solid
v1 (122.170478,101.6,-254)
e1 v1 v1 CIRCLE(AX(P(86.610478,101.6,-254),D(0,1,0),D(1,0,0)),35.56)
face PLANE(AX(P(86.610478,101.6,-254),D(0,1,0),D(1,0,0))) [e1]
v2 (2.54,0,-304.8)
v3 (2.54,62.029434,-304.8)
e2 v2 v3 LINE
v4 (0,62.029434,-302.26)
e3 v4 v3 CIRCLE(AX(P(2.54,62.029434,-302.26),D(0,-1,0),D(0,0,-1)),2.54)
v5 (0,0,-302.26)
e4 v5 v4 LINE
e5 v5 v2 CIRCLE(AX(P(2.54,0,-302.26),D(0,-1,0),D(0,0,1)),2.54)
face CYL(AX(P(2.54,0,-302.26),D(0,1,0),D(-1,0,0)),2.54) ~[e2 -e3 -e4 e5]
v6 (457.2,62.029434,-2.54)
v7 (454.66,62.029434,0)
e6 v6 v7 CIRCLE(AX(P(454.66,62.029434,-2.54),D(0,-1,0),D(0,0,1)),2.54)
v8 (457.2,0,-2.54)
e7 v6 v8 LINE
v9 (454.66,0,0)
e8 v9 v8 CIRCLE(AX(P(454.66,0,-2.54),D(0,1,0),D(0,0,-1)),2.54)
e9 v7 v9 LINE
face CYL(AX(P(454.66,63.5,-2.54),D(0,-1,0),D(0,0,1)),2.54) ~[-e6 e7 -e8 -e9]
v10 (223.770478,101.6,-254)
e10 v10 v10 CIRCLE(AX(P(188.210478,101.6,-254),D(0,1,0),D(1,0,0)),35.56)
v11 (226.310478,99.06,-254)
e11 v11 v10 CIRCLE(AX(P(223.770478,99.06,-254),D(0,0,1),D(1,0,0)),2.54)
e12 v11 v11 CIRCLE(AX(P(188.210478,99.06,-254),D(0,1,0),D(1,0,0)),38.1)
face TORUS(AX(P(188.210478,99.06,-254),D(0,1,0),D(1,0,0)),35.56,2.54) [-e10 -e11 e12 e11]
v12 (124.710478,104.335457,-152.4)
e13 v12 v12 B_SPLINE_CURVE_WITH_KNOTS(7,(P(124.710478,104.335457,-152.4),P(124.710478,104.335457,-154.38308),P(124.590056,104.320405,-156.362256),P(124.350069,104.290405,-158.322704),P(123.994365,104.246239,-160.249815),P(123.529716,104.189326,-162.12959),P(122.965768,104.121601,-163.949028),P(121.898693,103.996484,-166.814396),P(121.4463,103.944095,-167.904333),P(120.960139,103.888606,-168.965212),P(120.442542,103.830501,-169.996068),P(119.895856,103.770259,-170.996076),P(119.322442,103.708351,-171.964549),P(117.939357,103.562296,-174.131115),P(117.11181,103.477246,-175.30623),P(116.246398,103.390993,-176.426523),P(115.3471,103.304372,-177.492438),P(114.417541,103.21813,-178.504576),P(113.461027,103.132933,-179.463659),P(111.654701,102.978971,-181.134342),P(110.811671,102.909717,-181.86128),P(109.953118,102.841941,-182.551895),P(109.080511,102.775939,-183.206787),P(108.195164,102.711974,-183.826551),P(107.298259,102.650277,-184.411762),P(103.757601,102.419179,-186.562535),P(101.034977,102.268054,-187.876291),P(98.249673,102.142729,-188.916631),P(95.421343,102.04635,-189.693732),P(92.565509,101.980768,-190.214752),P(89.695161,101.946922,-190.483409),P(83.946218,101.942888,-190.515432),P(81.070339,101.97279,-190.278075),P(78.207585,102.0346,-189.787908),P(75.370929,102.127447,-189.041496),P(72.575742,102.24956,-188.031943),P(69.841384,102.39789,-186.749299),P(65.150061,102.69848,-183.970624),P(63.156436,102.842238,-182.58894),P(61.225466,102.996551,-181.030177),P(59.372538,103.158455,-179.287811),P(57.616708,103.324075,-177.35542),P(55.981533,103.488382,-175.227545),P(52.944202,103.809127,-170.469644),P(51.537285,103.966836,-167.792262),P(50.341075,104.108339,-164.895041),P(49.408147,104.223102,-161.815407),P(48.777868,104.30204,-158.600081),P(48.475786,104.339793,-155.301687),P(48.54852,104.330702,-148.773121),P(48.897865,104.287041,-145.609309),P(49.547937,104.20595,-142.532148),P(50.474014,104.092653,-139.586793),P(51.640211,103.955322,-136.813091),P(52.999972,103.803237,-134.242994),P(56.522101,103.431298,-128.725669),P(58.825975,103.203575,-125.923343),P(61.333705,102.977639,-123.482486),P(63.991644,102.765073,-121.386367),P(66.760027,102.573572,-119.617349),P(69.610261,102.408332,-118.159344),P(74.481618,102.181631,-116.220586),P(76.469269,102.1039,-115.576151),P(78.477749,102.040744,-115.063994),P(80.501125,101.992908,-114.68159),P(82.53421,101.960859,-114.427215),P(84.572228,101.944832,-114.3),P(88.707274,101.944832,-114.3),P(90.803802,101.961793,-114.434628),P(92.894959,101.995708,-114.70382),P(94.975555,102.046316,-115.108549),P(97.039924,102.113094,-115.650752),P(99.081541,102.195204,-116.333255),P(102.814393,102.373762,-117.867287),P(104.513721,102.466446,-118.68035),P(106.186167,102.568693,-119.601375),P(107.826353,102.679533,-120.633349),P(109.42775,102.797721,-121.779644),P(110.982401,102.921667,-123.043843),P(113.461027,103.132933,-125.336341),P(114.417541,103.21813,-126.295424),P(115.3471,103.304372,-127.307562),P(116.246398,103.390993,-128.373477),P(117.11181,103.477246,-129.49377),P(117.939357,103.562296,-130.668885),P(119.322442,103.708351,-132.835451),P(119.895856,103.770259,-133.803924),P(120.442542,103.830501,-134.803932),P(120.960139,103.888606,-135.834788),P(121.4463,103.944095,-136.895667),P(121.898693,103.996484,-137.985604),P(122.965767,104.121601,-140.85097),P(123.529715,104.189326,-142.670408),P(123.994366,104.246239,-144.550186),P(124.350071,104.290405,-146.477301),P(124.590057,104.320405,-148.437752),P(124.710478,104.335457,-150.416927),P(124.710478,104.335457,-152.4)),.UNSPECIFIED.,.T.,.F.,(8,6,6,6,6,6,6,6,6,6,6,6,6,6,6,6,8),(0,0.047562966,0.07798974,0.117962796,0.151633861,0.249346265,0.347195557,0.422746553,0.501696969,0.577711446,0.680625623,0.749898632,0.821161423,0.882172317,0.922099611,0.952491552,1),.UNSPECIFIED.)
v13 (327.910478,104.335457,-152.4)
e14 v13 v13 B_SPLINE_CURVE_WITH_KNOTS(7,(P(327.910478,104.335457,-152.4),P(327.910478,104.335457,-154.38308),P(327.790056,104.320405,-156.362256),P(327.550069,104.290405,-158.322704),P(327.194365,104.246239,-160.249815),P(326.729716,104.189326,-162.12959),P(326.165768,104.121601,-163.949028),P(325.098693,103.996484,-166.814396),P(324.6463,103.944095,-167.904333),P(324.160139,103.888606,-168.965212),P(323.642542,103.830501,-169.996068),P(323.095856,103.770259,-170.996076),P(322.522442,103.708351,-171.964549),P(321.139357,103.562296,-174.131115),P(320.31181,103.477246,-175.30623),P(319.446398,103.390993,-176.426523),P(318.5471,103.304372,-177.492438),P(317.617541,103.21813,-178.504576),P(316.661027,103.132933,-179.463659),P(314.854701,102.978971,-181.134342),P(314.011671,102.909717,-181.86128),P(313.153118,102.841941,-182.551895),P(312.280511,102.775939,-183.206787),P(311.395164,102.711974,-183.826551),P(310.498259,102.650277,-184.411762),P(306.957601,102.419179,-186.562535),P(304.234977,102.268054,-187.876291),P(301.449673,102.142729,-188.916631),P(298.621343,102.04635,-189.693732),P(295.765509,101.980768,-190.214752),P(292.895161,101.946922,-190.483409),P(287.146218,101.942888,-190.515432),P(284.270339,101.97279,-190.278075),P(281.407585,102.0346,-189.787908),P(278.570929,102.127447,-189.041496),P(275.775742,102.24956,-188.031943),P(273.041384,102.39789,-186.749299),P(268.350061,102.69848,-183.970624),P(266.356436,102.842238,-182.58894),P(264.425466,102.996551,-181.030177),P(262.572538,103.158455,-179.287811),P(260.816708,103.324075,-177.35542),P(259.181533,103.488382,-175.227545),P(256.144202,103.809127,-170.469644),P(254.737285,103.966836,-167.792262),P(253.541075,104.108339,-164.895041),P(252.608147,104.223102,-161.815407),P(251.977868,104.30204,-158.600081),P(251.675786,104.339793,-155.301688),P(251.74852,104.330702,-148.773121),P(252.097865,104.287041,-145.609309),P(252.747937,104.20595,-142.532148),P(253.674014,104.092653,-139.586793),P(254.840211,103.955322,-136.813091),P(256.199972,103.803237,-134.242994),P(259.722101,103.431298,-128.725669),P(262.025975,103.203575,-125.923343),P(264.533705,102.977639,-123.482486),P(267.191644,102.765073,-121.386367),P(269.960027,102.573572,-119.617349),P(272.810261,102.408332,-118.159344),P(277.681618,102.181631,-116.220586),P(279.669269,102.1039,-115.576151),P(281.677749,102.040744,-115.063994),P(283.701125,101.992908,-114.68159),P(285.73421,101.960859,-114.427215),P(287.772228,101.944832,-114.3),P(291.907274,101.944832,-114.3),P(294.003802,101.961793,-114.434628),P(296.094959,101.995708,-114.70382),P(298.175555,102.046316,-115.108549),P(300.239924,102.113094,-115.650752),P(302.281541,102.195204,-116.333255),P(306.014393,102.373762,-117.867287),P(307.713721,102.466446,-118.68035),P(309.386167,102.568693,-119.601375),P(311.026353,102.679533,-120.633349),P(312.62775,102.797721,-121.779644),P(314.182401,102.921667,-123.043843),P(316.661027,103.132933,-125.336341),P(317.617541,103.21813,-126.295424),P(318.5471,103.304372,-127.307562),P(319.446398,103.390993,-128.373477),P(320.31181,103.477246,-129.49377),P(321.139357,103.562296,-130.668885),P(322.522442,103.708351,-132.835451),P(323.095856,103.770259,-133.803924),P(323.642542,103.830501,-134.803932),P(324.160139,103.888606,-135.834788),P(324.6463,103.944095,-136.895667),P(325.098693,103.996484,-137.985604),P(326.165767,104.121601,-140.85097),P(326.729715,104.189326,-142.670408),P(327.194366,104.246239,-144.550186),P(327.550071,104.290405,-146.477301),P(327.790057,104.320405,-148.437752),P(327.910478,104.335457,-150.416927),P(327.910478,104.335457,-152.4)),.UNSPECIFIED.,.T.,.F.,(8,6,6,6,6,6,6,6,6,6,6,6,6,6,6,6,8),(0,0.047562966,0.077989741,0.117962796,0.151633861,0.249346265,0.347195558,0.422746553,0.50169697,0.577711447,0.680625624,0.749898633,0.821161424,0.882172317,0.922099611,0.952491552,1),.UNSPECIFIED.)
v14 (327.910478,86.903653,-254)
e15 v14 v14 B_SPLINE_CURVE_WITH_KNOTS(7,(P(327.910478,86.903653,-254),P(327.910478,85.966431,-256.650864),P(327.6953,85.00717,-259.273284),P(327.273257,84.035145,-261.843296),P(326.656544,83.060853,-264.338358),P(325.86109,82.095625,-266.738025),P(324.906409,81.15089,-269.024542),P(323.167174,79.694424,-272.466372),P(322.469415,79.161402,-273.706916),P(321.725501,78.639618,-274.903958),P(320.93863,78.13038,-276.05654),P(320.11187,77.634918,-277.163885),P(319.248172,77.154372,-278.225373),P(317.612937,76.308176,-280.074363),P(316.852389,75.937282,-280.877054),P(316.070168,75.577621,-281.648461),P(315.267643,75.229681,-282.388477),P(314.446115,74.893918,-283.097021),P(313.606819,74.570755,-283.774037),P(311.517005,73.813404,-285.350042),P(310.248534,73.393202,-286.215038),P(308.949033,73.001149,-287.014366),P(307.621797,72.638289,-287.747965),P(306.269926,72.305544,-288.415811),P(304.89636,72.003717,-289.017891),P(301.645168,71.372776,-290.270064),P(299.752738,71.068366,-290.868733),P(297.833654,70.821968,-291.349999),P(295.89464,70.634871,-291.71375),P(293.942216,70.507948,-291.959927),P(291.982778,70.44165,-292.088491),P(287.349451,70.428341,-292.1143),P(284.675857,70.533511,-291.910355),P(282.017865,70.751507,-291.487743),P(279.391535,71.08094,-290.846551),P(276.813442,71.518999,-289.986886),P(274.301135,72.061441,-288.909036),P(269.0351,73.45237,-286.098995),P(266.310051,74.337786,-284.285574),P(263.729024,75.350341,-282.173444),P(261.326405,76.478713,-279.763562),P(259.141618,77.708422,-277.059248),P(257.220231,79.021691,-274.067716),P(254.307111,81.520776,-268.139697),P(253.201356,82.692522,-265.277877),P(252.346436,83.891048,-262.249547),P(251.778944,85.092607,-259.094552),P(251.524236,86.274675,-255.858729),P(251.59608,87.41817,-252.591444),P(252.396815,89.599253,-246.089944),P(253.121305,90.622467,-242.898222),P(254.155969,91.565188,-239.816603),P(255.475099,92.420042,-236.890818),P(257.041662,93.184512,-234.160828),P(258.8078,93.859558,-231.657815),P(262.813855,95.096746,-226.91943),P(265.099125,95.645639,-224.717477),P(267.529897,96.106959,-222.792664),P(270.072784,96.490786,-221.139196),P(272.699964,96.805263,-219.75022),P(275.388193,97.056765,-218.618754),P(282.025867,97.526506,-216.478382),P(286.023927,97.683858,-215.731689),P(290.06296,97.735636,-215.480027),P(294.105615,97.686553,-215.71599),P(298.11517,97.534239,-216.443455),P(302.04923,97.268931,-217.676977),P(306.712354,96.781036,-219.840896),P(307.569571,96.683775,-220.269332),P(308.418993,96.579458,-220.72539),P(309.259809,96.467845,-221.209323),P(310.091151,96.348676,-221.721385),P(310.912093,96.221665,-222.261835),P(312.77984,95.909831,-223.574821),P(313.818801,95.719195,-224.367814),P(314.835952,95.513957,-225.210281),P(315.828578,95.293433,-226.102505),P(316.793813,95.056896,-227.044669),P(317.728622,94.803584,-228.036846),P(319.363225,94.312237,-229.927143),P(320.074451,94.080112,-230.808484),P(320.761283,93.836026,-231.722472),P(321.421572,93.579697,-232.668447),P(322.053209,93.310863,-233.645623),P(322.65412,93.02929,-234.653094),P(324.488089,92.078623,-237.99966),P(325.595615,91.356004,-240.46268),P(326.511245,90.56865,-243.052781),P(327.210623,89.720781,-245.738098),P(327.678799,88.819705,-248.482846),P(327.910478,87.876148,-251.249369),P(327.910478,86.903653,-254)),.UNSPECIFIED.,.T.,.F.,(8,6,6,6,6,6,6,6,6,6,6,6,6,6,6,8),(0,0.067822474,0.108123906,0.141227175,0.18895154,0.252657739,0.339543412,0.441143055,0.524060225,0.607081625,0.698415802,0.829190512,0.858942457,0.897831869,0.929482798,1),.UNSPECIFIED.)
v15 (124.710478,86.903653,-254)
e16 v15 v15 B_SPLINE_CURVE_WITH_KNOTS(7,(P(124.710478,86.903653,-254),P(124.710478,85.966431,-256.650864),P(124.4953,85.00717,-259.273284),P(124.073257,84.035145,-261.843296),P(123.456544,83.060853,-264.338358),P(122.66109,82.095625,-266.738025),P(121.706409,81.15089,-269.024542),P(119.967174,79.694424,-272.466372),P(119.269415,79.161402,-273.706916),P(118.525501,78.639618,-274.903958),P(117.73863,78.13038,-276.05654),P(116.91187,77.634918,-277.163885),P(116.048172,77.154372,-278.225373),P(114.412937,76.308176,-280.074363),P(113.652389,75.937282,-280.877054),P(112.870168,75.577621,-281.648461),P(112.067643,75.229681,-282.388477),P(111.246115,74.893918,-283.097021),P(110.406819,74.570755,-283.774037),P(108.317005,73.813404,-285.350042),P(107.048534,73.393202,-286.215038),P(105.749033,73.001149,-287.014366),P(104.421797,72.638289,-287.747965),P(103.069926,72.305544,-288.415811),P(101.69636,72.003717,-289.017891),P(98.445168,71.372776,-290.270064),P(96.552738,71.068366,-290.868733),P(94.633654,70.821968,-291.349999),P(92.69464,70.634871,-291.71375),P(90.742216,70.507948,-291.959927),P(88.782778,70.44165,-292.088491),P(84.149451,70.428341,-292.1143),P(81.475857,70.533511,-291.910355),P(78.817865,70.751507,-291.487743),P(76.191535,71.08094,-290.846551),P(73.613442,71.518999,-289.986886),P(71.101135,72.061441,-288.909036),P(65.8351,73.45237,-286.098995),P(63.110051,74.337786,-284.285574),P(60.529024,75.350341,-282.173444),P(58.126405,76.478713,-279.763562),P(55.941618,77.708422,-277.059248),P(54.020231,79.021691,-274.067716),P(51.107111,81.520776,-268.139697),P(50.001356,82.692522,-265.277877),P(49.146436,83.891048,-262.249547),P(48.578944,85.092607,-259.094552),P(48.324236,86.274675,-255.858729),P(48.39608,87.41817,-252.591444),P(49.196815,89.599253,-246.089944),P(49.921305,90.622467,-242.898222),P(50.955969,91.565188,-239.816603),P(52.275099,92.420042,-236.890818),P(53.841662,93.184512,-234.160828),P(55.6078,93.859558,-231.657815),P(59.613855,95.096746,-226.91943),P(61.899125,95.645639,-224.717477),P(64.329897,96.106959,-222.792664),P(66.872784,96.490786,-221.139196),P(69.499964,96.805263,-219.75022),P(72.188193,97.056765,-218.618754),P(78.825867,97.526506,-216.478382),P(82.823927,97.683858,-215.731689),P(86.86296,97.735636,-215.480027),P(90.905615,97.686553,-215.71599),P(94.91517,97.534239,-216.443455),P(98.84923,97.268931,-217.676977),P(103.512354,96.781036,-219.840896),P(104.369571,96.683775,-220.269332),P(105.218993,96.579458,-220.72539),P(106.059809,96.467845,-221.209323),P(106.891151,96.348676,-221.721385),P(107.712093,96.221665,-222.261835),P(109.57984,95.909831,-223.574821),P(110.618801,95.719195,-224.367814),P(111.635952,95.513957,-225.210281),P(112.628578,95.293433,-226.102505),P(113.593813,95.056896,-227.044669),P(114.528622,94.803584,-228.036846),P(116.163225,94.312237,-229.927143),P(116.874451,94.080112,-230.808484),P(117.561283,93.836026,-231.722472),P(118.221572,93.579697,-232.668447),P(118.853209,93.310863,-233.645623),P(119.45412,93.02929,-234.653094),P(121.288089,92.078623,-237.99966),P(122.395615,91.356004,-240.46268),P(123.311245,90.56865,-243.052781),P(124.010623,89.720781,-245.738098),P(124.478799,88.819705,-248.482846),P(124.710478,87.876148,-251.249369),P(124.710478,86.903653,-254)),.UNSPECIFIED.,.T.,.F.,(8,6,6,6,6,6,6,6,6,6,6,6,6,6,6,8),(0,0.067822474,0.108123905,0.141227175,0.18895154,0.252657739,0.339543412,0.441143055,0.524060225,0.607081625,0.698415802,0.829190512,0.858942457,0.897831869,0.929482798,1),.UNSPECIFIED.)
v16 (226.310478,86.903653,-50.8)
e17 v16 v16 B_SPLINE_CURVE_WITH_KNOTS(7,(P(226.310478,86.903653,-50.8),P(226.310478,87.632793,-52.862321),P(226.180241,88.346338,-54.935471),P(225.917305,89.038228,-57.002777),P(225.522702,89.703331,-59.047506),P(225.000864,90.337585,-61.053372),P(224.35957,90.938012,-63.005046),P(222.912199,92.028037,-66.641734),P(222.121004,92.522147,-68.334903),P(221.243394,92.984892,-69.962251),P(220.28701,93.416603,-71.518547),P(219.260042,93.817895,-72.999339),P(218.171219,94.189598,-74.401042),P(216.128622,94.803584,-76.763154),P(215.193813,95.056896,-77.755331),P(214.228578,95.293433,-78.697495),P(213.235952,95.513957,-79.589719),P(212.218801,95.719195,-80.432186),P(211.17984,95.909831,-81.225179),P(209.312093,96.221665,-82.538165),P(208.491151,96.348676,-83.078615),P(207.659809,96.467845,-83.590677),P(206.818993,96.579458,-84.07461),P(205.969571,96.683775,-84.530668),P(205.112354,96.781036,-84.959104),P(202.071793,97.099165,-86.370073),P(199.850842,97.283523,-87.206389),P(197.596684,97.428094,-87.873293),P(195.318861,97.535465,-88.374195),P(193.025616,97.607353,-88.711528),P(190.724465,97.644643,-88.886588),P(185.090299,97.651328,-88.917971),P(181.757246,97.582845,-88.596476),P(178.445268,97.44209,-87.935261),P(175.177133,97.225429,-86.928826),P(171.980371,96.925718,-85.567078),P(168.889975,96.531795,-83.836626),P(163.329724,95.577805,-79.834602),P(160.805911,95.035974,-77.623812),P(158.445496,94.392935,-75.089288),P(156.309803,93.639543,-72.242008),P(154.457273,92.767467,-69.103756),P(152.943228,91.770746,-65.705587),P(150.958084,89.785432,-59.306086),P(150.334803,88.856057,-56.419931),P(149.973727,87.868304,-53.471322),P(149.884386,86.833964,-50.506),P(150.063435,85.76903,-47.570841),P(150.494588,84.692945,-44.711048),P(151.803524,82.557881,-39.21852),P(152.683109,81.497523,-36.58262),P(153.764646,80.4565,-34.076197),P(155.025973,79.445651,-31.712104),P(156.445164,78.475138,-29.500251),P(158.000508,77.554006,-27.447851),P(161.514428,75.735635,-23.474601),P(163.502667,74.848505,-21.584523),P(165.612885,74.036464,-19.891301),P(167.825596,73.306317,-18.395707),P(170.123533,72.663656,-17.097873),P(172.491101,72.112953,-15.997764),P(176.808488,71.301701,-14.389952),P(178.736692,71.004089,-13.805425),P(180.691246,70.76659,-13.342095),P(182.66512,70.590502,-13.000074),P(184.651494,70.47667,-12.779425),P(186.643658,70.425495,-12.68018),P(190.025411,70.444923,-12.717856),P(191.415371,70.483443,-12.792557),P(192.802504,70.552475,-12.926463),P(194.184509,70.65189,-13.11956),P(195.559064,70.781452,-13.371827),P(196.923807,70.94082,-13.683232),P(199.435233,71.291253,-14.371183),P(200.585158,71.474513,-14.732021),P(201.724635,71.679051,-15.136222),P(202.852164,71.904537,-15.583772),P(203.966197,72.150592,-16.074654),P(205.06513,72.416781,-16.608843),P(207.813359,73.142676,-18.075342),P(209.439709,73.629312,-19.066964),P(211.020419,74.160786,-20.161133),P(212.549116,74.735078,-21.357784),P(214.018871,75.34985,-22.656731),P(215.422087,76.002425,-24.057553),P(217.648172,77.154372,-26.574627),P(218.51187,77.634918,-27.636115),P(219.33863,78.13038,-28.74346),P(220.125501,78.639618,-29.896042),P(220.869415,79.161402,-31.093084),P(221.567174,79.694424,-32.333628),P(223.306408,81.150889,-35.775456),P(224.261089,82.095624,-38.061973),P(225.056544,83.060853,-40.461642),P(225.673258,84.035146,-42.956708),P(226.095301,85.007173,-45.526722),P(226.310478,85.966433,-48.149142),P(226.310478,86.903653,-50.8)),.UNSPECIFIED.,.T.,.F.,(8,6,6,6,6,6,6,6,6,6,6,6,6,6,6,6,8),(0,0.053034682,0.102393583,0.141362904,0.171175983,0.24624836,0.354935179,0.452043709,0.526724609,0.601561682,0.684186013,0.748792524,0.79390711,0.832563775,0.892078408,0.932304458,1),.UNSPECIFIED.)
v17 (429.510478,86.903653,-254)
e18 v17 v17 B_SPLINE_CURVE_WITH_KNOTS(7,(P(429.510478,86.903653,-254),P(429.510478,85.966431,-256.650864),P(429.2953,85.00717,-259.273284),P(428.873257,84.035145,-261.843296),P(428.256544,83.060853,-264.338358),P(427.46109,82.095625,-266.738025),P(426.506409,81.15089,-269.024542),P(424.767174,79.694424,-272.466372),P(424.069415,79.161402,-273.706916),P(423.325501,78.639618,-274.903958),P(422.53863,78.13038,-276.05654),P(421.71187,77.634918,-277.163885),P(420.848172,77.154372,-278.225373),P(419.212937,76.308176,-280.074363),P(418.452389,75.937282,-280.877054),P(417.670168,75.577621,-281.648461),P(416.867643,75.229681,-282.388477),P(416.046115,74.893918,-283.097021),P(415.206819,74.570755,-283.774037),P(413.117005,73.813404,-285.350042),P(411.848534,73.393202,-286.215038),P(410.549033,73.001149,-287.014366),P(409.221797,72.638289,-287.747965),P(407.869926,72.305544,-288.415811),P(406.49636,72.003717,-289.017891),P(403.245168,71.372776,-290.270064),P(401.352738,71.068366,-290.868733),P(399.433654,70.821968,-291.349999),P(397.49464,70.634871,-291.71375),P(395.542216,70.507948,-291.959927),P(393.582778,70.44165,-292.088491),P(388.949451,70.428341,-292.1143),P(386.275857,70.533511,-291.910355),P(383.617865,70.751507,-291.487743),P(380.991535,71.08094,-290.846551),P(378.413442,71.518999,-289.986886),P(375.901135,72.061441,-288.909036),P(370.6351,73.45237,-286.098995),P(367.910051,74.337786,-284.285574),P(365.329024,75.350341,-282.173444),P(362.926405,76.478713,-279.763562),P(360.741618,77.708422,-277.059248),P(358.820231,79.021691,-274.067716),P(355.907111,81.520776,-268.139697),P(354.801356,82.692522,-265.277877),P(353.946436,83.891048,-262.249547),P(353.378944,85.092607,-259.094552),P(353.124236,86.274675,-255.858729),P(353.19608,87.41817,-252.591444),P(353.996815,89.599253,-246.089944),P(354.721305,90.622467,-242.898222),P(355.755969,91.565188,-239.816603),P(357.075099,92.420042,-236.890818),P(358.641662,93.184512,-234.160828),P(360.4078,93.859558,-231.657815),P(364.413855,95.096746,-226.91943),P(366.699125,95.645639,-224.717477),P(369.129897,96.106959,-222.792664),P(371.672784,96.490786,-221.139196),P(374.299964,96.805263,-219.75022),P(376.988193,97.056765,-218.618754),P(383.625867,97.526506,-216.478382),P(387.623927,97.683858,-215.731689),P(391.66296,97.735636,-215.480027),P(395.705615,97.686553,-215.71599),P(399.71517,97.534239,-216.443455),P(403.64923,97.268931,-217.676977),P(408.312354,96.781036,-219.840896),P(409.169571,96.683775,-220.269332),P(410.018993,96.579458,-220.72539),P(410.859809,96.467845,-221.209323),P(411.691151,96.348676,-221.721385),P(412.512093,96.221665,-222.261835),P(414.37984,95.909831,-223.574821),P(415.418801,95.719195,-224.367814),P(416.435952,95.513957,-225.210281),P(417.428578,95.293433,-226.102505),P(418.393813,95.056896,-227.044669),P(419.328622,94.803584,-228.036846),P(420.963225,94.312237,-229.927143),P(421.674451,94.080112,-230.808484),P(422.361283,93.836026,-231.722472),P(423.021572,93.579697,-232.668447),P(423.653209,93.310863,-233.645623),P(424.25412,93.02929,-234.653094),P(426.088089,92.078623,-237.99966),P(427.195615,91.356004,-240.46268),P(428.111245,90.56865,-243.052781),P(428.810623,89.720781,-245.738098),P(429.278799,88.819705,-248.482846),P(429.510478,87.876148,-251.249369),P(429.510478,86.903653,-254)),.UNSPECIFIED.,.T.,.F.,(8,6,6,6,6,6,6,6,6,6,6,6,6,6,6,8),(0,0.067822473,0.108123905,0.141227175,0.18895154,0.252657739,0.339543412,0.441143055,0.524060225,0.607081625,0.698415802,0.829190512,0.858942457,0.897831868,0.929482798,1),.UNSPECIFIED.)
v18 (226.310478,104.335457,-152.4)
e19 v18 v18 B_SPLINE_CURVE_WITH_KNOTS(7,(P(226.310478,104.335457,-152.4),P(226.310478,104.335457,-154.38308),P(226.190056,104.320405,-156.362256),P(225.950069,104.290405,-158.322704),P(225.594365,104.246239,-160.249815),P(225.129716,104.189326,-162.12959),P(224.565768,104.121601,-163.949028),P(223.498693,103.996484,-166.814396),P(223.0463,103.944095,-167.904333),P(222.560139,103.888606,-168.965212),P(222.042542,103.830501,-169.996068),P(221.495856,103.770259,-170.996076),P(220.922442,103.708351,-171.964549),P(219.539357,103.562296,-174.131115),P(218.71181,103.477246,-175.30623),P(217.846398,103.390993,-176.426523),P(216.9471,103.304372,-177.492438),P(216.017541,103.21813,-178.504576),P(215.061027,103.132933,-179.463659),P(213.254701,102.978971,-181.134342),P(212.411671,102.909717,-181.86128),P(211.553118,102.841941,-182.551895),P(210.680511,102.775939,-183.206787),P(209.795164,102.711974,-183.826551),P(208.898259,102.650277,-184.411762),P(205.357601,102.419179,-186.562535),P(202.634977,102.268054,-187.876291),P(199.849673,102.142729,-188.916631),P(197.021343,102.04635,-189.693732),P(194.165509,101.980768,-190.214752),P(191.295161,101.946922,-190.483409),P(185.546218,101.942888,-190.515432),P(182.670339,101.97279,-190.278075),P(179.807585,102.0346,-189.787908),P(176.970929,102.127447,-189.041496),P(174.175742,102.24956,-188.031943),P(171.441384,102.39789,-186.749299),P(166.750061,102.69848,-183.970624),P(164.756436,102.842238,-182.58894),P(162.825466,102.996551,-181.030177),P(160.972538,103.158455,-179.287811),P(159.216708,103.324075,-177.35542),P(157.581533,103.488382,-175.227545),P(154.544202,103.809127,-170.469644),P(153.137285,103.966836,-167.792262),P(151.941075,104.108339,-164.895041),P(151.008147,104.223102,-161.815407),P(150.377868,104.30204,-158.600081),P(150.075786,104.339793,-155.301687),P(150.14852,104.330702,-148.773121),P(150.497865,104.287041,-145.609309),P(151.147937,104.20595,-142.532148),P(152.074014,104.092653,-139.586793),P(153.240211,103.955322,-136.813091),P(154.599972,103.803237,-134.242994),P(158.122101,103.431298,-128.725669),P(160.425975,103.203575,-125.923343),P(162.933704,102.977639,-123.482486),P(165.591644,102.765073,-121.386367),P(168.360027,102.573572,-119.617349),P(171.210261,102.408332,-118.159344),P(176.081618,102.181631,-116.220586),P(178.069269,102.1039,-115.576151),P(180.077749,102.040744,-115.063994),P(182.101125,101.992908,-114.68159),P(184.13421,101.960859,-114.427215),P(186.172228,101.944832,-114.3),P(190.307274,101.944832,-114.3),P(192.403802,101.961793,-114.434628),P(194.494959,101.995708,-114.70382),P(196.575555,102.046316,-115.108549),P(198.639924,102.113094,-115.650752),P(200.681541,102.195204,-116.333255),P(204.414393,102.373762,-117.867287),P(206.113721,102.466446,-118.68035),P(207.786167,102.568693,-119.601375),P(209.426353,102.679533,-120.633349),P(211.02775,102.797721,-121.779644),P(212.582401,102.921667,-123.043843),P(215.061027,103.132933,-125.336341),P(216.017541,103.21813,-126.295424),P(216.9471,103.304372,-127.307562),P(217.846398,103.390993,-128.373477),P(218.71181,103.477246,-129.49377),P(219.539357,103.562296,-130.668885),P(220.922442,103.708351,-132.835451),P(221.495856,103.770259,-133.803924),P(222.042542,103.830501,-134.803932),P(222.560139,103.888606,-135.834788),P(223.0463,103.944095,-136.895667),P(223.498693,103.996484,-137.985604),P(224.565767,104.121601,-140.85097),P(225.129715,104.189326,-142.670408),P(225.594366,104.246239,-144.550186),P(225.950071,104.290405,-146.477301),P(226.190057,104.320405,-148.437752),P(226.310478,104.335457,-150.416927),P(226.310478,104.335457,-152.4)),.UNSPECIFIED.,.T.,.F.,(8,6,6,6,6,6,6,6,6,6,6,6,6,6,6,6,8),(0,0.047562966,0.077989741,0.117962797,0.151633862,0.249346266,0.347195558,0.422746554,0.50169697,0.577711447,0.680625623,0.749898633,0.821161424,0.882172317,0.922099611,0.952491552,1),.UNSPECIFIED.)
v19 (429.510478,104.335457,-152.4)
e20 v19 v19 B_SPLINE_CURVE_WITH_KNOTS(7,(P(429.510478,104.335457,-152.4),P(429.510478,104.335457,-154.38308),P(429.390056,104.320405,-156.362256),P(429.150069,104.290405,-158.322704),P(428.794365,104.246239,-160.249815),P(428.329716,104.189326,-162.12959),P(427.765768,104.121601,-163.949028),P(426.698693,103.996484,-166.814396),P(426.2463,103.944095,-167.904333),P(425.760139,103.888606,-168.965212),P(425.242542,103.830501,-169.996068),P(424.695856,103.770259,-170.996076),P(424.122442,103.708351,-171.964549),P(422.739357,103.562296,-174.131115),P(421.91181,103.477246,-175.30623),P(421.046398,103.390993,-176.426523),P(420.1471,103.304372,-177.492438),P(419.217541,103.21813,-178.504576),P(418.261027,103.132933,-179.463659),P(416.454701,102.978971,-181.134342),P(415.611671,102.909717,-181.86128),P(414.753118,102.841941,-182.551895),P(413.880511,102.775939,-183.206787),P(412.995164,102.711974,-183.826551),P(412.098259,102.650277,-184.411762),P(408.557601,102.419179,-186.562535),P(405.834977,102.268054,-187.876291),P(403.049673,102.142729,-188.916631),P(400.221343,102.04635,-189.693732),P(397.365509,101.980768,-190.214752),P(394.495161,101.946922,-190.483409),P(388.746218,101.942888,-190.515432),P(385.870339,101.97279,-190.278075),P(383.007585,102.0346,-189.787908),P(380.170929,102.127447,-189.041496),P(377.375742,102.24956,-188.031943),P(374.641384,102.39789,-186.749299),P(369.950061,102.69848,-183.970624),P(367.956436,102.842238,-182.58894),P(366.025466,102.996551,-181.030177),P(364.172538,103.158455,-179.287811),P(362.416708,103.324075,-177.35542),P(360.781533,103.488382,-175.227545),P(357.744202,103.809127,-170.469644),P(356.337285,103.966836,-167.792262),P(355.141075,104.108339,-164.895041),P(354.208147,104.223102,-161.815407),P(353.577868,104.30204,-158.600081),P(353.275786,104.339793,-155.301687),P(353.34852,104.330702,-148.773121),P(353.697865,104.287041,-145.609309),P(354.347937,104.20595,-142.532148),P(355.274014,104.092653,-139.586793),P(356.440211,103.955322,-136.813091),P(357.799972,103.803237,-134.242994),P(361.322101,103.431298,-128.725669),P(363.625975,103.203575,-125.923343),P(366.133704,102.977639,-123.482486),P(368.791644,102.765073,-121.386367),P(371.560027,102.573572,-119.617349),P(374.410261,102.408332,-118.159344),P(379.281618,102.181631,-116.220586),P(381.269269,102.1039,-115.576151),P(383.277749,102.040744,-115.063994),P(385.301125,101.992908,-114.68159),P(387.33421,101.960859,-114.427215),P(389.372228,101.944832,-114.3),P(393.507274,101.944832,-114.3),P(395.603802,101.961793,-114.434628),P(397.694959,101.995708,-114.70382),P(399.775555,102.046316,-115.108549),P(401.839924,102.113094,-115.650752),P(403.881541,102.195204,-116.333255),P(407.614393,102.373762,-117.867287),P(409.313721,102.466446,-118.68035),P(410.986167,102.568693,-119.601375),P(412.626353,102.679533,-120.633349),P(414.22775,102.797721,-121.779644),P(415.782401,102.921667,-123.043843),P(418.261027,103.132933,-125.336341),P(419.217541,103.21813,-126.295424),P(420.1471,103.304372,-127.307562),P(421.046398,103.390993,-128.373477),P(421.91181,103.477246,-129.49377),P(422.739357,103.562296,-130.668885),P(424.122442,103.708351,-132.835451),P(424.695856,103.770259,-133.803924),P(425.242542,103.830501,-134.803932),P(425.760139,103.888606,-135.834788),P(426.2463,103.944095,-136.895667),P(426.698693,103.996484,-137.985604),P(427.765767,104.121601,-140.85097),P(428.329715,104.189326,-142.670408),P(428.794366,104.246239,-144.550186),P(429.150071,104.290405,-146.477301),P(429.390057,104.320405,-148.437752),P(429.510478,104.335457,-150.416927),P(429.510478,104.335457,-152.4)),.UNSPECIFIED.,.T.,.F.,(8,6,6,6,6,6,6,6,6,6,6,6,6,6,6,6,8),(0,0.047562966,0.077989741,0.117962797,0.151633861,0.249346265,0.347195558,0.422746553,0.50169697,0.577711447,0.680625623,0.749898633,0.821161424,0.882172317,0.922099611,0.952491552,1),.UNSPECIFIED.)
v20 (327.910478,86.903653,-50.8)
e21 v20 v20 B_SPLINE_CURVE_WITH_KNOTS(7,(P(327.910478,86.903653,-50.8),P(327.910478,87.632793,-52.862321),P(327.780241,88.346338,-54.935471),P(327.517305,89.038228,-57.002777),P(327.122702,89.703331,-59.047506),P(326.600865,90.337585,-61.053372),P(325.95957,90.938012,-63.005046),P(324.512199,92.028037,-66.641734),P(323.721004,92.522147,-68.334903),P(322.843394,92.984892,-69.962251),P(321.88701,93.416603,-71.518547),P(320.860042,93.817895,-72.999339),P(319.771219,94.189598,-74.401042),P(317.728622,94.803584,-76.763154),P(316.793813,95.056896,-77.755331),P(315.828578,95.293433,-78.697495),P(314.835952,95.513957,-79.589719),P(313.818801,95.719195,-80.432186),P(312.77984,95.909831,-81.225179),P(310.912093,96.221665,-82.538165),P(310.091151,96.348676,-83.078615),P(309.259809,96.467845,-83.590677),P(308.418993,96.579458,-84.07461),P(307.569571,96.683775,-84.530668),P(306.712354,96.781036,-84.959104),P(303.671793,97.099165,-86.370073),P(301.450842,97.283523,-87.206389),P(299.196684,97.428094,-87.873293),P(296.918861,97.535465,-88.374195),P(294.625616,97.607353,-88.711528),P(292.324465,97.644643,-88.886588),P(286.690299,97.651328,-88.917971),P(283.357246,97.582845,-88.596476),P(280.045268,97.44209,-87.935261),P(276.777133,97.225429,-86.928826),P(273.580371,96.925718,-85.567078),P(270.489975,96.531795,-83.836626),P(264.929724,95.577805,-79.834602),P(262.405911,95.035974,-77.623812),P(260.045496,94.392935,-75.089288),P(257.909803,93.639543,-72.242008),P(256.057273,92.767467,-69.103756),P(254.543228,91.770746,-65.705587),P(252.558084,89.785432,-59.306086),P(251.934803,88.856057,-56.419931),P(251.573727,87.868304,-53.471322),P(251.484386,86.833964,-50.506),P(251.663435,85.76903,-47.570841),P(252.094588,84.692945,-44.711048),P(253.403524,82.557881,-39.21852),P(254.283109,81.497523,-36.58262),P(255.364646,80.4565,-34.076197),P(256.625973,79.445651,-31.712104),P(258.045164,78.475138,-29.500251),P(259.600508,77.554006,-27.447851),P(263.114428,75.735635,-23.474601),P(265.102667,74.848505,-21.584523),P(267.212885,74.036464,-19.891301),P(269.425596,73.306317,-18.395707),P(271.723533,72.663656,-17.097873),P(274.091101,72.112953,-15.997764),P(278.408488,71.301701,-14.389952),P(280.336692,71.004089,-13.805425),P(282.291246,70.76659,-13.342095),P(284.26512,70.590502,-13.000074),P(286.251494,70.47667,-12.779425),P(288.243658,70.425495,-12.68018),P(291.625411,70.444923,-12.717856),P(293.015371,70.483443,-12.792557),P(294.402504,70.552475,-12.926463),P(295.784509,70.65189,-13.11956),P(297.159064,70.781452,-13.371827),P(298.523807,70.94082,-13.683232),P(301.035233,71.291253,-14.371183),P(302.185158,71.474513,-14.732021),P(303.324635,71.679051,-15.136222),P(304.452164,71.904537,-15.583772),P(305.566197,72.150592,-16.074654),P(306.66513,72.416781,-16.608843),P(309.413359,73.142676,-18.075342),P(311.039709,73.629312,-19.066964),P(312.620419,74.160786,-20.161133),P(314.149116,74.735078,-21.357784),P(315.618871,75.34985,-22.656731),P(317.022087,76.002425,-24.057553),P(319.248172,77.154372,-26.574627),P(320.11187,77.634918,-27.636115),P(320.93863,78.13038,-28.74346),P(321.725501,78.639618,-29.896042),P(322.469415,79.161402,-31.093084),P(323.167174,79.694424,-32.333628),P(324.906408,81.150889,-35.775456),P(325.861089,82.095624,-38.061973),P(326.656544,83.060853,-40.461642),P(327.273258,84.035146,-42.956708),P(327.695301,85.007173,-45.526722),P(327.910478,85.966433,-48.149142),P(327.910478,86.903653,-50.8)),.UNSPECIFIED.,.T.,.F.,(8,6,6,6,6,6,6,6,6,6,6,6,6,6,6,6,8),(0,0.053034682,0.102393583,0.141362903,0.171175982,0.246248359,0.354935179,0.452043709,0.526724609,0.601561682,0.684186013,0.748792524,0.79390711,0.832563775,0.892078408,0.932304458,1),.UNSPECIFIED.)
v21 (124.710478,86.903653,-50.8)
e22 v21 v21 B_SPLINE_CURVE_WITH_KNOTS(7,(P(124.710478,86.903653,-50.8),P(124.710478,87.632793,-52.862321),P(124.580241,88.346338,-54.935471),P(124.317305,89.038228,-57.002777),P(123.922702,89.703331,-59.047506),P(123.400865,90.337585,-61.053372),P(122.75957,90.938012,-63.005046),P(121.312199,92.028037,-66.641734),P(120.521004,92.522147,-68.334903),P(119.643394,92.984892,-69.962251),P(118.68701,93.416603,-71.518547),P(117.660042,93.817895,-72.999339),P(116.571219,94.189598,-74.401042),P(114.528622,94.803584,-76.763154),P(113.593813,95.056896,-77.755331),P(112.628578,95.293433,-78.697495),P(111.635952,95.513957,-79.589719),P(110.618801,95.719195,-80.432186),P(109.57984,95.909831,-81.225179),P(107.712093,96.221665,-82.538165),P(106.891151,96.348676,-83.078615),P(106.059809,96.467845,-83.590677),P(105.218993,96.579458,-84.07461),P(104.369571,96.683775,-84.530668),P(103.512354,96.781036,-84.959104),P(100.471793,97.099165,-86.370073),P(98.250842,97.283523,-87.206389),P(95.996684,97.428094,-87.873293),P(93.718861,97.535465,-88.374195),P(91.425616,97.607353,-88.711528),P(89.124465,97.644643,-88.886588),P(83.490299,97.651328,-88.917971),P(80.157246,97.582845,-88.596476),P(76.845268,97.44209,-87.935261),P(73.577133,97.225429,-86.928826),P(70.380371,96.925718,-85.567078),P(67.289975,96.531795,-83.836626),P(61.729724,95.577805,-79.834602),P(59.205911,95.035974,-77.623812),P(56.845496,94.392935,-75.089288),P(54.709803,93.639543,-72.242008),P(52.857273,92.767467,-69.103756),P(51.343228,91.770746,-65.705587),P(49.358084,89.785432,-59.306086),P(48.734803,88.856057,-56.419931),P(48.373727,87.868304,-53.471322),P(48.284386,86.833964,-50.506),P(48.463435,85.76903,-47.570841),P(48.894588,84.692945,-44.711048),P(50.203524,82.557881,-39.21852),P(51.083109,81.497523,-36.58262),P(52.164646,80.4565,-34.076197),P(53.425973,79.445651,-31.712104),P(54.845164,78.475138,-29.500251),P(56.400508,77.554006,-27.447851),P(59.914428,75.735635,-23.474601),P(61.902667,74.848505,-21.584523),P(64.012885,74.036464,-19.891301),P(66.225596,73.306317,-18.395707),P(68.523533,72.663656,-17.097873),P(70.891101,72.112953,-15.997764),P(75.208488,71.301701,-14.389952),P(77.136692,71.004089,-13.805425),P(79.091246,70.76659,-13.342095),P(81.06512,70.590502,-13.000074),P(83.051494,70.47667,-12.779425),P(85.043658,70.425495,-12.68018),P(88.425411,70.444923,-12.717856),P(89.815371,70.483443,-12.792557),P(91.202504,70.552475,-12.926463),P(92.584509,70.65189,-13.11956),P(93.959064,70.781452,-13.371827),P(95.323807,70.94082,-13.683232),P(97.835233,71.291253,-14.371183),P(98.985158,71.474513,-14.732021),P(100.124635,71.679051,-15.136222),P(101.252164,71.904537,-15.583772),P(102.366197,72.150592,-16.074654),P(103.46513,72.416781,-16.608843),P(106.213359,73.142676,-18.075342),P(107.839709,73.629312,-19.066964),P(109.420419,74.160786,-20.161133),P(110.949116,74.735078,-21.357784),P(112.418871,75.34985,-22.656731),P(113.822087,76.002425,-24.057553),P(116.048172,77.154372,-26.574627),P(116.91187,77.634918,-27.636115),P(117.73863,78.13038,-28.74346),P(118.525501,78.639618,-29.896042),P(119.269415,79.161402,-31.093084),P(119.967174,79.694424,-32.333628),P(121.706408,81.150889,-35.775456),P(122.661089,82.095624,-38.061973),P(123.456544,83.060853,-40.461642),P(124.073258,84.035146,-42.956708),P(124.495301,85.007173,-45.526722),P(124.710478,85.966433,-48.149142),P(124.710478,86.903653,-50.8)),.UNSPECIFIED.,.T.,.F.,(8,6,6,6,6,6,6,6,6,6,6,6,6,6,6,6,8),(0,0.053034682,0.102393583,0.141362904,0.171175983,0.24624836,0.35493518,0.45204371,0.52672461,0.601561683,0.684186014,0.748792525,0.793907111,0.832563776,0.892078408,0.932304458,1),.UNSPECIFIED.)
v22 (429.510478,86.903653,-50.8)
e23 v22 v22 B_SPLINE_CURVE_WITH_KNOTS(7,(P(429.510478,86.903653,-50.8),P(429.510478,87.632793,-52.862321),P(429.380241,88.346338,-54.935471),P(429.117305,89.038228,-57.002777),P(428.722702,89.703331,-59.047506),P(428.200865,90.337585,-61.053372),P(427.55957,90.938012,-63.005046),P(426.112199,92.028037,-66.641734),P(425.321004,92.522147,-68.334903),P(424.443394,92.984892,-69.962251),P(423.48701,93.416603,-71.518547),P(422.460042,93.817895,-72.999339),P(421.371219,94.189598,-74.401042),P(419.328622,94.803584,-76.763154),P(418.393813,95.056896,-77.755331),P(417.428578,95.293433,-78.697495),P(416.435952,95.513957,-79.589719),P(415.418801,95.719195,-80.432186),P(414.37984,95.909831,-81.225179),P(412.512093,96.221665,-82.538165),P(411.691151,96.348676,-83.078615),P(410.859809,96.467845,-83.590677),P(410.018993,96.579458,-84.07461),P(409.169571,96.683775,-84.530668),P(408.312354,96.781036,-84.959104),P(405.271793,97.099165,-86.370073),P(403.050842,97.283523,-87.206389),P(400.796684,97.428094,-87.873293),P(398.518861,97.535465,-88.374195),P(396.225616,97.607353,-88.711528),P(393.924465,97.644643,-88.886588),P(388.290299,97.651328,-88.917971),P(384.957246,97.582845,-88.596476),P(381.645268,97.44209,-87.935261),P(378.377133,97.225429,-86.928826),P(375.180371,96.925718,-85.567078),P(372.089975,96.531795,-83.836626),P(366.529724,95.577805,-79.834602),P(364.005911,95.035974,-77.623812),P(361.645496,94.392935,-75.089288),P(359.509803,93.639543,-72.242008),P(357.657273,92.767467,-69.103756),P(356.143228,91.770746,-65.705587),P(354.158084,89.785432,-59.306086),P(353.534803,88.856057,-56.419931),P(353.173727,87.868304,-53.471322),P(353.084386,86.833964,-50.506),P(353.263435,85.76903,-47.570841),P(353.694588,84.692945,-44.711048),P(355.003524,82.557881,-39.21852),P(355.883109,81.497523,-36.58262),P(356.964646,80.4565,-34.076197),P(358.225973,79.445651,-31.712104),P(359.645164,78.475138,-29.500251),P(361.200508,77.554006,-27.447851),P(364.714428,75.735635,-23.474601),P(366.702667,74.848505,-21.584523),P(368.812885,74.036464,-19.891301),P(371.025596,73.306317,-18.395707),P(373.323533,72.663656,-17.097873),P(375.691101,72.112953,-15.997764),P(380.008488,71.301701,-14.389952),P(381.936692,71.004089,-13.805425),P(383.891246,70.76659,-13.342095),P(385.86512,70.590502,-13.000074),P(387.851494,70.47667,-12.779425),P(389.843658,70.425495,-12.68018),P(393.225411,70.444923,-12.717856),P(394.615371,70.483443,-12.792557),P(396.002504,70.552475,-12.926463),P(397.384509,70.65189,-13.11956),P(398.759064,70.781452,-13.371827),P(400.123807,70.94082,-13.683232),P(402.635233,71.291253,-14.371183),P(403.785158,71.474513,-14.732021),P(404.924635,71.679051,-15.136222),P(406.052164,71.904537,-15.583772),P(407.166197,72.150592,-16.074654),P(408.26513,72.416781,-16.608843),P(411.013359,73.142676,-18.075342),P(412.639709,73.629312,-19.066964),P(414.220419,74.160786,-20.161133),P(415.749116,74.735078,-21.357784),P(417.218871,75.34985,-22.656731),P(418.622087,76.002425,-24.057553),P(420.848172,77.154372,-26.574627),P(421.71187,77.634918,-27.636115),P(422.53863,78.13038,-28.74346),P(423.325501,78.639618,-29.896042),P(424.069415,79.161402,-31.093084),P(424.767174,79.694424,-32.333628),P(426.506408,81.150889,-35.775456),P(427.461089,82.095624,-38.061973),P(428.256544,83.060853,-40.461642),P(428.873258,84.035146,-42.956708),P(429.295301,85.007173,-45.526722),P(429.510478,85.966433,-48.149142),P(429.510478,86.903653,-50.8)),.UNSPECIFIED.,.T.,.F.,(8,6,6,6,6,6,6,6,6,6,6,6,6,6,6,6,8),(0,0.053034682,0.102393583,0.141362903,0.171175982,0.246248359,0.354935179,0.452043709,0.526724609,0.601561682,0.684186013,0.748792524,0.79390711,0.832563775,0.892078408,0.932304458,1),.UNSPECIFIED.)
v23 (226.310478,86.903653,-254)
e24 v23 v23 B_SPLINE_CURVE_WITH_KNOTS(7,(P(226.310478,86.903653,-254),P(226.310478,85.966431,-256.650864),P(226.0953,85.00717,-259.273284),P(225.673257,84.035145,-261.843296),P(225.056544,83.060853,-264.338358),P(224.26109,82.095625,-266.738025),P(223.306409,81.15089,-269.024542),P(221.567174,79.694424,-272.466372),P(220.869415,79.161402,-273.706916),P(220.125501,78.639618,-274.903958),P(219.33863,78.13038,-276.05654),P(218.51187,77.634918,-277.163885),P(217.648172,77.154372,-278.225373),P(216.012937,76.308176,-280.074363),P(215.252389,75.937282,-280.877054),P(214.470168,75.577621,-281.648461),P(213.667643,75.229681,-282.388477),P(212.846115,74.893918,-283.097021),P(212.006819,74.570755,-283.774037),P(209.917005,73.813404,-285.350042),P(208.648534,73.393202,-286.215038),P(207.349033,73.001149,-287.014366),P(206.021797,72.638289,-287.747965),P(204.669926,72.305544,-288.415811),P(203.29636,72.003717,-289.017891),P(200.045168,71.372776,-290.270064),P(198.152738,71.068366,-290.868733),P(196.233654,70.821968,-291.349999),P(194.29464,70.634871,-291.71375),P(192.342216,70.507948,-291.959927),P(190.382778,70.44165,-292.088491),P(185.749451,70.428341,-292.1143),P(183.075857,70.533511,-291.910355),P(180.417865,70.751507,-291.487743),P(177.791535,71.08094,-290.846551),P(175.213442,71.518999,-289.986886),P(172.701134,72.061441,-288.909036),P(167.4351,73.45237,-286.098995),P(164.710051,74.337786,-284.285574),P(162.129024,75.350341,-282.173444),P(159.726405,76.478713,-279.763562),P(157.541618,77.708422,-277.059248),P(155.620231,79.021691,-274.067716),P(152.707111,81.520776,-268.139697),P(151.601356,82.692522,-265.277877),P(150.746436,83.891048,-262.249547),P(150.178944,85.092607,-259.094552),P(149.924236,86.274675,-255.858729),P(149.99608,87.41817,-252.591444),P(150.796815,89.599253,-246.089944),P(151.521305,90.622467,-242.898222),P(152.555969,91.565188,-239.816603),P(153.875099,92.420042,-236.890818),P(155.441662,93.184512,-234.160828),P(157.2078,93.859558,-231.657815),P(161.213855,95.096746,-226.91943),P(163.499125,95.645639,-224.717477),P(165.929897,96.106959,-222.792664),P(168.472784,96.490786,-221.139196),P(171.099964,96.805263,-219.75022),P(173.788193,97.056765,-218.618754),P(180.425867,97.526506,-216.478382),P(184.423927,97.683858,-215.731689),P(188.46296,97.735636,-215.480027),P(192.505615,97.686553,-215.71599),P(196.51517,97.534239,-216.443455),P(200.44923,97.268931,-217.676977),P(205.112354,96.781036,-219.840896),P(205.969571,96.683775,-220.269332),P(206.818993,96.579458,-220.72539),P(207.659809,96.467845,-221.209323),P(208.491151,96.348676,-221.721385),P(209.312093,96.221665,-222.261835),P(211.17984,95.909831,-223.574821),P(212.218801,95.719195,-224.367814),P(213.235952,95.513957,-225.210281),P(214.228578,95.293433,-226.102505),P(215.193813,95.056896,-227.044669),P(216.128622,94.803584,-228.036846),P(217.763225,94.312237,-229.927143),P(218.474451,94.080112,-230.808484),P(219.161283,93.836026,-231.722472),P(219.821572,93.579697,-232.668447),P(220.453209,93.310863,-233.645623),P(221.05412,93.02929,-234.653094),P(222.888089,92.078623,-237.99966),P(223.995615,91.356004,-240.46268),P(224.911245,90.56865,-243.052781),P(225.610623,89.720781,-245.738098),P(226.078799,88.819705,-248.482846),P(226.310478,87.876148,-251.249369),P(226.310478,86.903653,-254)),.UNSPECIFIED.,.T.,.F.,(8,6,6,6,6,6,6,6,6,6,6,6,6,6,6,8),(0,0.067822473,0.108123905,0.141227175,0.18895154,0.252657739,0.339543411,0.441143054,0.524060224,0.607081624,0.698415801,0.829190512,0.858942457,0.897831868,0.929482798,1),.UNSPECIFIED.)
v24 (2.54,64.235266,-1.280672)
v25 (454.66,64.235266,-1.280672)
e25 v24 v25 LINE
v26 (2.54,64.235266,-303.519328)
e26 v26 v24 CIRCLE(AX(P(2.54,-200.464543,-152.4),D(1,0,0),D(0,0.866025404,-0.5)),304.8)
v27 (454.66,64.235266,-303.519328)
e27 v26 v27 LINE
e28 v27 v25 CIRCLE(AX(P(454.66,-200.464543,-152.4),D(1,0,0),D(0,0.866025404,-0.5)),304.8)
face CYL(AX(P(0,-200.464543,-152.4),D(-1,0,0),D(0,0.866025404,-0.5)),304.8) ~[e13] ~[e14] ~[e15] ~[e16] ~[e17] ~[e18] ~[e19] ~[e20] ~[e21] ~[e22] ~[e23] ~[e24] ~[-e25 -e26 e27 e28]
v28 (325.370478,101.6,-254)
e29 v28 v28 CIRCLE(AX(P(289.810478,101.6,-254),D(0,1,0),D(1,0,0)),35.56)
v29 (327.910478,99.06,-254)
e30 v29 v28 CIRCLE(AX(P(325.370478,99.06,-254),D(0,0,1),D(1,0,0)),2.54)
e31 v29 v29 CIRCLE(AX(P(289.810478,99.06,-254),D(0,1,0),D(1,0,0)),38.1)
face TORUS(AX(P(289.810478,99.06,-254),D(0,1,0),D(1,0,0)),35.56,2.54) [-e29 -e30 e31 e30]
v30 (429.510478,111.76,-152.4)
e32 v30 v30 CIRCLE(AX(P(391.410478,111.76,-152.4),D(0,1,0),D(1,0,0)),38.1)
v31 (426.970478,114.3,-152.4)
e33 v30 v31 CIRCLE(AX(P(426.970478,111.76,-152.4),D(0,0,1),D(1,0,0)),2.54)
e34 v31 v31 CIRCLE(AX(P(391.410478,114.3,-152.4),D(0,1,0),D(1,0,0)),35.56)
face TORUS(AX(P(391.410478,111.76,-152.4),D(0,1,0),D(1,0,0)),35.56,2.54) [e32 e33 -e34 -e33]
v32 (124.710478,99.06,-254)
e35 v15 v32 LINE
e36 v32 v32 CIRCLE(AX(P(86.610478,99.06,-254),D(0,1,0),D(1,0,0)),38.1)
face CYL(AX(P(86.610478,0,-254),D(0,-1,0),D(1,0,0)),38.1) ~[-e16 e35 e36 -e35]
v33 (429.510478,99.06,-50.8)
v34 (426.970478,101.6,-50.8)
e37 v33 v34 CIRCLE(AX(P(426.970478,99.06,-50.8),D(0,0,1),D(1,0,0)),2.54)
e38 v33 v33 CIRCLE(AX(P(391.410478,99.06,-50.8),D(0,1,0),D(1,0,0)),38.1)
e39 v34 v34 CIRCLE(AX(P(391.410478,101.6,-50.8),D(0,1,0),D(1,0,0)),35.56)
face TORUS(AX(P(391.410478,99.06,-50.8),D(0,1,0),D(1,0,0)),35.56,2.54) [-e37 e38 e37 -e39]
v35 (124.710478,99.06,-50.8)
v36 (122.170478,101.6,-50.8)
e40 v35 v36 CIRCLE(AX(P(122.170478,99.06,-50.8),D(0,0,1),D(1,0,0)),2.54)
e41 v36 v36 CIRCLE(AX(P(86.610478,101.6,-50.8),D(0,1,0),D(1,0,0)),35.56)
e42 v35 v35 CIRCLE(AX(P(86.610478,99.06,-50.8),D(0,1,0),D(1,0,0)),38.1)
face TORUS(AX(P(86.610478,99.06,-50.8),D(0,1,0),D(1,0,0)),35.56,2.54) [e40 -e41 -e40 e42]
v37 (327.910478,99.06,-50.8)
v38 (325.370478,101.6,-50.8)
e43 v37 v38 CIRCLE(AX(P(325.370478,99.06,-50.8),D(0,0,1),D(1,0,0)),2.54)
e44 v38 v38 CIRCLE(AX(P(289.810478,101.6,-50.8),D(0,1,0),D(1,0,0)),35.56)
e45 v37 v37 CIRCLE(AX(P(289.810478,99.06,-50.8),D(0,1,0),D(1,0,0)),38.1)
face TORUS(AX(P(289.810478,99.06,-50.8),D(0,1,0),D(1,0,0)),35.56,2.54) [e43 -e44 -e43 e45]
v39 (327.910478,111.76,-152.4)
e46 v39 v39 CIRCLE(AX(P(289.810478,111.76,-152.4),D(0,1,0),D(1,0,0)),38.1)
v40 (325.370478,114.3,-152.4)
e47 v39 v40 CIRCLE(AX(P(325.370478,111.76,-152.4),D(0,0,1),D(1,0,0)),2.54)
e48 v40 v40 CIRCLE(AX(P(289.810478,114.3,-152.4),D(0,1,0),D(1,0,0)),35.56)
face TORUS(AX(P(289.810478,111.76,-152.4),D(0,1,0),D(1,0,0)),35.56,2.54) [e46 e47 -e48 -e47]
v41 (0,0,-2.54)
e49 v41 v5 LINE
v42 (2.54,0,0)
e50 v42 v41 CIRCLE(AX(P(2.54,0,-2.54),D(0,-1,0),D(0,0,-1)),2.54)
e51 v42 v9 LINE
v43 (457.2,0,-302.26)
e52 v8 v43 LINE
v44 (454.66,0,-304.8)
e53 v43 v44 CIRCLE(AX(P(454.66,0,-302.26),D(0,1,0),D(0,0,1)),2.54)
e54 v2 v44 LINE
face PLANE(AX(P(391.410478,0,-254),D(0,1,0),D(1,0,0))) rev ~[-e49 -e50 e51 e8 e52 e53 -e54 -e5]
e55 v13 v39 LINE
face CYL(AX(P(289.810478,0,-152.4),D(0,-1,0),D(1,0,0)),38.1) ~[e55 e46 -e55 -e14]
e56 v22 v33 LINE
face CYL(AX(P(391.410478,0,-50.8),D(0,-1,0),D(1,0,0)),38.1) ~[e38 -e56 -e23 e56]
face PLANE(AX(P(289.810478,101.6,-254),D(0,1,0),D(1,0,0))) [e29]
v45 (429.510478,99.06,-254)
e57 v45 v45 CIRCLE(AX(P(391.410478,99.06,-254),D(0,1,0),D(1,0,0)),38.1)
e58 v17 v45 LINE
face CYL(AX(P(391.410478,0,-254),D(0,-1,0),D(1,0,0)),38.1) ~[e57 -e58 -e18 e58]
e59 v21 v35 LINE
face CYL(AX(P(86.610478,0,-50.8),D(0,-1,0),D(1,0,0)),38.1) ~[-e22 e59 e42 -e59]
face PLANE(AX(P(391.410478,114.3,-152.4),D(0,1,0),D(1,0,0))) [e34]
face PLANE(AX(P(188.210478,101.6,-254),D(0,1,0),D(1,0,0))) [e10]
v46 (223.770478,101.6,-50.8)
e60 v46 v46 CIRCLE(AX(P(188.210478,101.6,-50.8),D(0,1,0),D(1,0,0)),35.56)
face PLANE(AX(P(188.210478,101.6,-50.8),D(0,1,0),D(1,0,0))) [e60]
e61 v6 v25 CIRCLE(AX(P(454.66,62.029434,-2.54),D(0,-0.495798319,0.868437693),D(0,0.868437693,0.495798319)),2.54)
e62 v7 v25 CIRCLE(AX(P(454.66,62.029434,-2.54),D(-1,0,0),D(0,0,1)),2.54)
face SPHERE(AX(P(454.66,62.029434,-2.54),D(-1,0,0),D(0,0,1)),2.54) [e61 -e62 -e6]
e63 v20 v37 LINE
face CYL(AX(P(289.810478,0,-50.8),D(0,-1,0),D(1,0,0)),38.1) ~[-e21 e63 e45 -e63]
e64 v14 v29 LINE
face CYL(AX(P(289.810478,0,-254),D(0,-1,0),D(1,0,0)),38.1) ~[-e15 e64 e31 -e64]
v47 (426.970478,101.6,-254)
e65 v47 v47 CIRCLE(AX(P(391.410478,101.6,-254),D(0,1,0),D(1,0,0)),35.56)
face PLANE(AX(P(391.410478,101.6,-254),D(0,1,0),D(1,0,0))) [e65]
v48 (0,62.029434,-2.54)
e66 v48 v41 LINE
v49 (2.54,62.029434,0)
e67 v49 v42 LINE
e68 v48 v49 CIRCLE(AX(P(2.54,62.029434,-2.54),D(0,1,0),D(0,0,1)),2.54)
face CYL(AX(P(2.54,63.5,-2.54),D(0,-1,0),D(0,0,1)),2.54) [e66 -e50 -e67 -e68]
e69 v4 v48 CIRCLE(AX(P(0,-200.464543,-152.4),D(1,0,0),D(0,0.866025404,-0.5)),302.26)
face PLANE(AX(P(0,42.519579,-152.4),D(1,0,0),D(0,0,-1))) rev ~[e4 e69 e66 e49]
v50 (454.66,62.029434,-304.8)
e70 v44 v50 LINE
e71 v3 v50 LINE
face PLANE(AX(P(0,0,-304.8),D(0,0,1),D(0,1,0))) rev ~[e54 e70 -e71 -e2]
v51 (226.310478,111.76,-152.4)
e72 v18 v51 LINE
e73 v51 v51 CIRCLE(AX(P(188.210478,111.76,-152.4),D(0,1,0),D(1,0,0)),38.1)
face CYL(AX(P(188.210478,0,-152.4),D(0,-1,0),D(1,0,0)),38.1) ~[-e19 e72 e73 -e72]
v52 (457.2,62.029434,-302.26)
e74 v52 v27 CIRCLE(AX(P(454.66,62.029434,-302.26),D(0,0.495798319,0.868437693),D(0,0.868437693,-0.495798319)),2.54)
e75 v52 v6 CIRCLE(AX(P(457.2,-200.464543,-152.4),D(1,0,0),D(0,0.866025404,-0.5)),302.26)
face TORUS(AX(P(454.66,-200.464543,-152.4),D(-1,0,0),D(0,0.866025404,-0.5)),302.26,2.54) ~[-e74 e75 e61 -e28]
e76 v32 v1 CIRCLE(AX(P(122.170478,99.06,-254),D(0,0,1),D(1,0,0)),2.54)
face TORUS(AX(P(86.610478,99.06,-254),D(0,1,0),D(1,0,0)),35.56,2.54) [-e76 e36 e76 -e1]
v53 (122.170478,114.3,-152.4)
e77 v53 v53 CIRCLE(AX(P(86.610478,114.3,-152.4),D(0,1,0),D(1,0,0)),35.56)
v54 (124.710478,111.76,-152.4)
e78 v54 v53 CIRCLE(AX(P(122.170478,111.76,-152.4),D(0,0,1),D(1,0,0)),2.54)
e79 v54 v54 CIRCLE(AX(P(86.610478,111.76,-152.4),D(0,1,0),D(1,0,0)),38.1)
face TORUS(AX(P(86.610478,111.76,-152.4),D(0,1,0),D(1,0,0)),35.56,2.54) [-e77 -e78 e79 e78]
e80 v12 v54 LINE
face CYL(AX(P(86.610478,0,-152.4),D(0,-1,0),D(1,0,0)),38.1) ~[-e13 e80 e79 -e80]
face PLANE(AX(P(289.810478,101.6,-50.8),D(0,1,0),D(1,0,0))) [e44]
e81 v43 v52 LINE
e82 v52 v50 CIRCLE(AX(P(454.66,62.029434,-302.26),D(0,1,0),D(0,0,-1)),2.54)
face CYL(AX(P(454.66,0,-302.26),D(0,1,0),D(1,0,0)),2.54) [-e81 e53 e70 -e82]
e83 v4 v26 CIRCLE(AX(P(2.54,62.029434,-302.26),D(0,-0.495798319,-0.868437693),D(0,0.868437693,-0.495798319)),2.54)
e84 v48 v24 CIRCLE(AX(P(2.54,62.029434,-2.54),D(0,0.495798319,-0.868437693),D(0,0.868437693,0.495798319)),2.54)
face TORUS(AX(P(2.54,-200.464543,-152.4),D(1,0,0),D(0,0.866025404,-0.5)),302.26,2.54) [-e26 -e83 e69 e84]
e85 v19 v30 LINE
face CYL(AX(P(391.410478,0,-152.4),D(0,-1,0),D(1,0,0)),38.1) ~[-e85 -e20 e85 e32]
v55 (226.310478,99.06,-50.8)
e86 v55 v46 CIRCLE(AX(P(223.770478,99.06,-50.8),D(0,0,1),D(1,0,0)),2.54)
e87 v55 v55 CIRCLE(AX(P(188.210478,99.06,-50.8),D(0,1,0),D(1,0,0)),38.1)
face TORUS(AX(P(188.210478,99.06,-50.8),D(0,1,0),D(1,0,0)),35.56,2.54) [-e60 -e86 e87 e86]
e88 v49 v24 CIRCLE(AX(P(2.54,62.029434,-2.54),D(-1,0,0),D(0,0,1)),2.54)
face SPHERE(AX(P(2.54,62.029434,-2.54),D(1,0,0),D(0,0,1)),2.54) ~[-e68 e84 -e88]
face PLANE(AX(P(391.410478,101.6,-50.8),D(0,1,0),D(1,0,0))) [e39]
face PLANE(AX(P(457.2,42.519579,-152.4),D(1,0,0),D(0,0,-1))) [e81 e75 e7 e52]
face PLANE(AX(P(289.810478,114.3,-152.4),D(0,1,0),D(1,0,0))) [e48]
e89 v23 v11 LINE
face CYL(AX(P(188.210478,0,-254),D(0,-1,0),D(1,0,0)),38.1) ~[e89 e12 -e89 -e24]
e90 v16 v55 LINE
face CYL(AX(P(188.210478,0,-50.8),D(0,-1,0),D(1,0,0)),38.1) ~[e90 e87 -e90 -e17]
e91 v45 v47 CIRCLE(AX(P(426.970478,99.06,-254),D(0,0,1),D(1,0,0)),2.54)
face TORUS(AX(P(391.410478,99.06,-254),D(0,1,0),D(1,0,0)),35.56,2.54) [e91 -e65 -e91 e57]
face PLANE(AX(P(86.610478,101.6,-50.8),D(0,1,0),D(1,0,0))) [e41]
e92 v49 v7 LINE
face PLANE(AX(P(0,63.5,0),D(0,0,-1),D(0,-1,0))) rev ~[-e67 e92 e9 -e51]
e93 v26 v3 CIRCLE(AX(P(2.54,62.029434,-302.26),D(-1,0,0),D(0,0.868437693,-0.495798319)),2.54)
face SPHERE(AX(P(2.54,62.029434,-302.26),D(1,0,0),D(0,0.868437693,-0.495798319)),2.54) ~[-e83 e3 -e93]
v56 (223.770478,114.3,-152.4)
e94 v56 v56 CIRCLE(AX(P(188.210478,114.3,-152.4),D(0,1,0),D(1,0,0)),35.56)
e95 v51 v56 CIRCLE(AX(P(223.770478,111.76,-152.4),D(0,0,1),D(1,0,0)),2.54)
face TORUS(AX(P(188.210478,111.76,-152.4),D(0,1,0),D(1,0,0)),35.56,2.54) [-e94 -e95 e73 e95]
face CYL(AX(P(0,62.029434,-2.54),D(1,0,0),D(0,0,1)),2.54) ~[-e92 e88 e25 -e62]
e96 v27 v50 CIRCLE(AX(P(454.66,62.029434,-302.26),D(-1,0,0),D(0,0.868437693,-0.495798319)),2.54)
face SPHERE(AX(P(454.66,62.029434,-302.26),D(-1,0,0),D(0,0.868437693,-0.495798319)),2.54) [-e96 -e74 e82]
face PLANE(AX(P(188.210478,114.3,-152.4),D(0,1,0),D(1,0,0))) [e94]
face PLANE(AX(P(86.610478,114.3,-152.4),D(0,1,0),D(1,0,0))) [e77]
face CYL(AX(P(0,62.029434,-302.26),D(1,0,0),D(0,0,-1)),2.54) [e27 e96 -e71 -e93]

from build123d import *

# Parameters (mm, degrees)
BOSS_EXTRUDE1_DEPTH = 457.2
SKETCH2_R           = 38.1
BOSS_EXTRUDE3_DEPTH = 114.3
SKETCH2_5_R         = 38.1
BOSS_EXTRUDE4_DEPTH = 101.6
FILLET1_R           = 2.54


with BuildPart() as part:
    # Sketch1 → Boss-Extrude1 (new body)
    with BuildSketch(Plane(origin=(0, 0, 0), x_dir=(0, 0, -1), z_dir=(1, 0, 0))):
        with BuildLine():
            Line((0, 0), (304.8, 0))
            Line((304.8, 0), (304.8, 63.5))
            ThreePointArc((304.8, 63.5), (152.4, 104.335456927), (0, 63.5))
            Line((0, 63.5), (0, 0))
        make_face()
    extrude(amount=BOSS_EXTRUDE1_DEPTH)

    # Sketch2 → Boss-Extrude3 (add)
    with BuildSketch(Plane(origin=(0, 0, 0), x_dir=(1, 0, 0), z_dir=(0, 1, 0))):
        with Locations((391.410477658, 152.4)):
            Circle(SKETCH2_R)
        with Locations((289.810477658, 152.4)):
            Circle(SKETCH2_R)
        with Locations((188.210477658, 152.4)):
            Circle(SKETCH2_R)
        with Locations((86.610477658, 152.4)):
            Circle(SKETCH2_R)
    extrude(amount=BOSS_EXTRUDE3_DEPTH)

    # Sketch2<5> → Boss-Extrude4 (add)
    with BuildSketch(Plane(origin=(0, 0, 0), x_dir=(1, 0, 0), z_dir=(0, 1, 0))):
        with Locations((391.410477658, 254)):
            Circle(SKETCH2_5_R)
        with Locations((289.810477658, 254)):
            Circle(SKETCH2_5_R)
        with Locations((188.210477658, 254)):
            Circle(SKETCH2_5_R)
        with Locations((86.610477658, 254)):
            Circle(SKETCH2_5_R)
        with Locations((289.810477658, 50.8)):
            Circle(SKETCH2_5_R)
        with Locations((188.210477658, 50.8)):
            Circle(SKETCH2_5_R)
        with Locations((86.610477658, 50.8)):
            Circle(SKETCH2_5_R)
        with Locations((391.410477658, 50.8)):
            Circle(SKETCH2_5_R)
    extrude(amount=BOSS_EXTRUDE4_DEPTH)

    # Fillet1
    fillet1_edges = [part.edges().sort_by_distance(p)[0] for p in [
        (150.110477658, 101.6, -50.8),
        (251.710477658, 114.3, -152.4),
        (457.2, 31.75, -304.8),
        (457.2, 31.75, 0),
        (0, 31.75, 0),
        (0, 31.75, -304.8),
        (228.6, 63.5, -304.8),
        (457.2, 104.335456927, -152.4),
        (0, 104.335456927, -152.4),
        (228.6, 63.5, 0),
        (48.510477658, 101.6, -50.8),
        (251.710477658, 101.6, -50.8),
        (353.310477658, 101.6, -50.8),
        (48.510477658, 114.3, -152.4),
        (150.110477658, 114.3, -152.4),
        (353.310477658, 114.3, -152.4),
        (353.310477658, 101.6, -254),
        (251.710477658, 101.6, -254),
        (150.110477658, 101.6, -254),
        (48.510477658, 101.6, -254),
    ]]
    fillet(fillet1_edges, radius=FILLET1_R)


solid = part.part
